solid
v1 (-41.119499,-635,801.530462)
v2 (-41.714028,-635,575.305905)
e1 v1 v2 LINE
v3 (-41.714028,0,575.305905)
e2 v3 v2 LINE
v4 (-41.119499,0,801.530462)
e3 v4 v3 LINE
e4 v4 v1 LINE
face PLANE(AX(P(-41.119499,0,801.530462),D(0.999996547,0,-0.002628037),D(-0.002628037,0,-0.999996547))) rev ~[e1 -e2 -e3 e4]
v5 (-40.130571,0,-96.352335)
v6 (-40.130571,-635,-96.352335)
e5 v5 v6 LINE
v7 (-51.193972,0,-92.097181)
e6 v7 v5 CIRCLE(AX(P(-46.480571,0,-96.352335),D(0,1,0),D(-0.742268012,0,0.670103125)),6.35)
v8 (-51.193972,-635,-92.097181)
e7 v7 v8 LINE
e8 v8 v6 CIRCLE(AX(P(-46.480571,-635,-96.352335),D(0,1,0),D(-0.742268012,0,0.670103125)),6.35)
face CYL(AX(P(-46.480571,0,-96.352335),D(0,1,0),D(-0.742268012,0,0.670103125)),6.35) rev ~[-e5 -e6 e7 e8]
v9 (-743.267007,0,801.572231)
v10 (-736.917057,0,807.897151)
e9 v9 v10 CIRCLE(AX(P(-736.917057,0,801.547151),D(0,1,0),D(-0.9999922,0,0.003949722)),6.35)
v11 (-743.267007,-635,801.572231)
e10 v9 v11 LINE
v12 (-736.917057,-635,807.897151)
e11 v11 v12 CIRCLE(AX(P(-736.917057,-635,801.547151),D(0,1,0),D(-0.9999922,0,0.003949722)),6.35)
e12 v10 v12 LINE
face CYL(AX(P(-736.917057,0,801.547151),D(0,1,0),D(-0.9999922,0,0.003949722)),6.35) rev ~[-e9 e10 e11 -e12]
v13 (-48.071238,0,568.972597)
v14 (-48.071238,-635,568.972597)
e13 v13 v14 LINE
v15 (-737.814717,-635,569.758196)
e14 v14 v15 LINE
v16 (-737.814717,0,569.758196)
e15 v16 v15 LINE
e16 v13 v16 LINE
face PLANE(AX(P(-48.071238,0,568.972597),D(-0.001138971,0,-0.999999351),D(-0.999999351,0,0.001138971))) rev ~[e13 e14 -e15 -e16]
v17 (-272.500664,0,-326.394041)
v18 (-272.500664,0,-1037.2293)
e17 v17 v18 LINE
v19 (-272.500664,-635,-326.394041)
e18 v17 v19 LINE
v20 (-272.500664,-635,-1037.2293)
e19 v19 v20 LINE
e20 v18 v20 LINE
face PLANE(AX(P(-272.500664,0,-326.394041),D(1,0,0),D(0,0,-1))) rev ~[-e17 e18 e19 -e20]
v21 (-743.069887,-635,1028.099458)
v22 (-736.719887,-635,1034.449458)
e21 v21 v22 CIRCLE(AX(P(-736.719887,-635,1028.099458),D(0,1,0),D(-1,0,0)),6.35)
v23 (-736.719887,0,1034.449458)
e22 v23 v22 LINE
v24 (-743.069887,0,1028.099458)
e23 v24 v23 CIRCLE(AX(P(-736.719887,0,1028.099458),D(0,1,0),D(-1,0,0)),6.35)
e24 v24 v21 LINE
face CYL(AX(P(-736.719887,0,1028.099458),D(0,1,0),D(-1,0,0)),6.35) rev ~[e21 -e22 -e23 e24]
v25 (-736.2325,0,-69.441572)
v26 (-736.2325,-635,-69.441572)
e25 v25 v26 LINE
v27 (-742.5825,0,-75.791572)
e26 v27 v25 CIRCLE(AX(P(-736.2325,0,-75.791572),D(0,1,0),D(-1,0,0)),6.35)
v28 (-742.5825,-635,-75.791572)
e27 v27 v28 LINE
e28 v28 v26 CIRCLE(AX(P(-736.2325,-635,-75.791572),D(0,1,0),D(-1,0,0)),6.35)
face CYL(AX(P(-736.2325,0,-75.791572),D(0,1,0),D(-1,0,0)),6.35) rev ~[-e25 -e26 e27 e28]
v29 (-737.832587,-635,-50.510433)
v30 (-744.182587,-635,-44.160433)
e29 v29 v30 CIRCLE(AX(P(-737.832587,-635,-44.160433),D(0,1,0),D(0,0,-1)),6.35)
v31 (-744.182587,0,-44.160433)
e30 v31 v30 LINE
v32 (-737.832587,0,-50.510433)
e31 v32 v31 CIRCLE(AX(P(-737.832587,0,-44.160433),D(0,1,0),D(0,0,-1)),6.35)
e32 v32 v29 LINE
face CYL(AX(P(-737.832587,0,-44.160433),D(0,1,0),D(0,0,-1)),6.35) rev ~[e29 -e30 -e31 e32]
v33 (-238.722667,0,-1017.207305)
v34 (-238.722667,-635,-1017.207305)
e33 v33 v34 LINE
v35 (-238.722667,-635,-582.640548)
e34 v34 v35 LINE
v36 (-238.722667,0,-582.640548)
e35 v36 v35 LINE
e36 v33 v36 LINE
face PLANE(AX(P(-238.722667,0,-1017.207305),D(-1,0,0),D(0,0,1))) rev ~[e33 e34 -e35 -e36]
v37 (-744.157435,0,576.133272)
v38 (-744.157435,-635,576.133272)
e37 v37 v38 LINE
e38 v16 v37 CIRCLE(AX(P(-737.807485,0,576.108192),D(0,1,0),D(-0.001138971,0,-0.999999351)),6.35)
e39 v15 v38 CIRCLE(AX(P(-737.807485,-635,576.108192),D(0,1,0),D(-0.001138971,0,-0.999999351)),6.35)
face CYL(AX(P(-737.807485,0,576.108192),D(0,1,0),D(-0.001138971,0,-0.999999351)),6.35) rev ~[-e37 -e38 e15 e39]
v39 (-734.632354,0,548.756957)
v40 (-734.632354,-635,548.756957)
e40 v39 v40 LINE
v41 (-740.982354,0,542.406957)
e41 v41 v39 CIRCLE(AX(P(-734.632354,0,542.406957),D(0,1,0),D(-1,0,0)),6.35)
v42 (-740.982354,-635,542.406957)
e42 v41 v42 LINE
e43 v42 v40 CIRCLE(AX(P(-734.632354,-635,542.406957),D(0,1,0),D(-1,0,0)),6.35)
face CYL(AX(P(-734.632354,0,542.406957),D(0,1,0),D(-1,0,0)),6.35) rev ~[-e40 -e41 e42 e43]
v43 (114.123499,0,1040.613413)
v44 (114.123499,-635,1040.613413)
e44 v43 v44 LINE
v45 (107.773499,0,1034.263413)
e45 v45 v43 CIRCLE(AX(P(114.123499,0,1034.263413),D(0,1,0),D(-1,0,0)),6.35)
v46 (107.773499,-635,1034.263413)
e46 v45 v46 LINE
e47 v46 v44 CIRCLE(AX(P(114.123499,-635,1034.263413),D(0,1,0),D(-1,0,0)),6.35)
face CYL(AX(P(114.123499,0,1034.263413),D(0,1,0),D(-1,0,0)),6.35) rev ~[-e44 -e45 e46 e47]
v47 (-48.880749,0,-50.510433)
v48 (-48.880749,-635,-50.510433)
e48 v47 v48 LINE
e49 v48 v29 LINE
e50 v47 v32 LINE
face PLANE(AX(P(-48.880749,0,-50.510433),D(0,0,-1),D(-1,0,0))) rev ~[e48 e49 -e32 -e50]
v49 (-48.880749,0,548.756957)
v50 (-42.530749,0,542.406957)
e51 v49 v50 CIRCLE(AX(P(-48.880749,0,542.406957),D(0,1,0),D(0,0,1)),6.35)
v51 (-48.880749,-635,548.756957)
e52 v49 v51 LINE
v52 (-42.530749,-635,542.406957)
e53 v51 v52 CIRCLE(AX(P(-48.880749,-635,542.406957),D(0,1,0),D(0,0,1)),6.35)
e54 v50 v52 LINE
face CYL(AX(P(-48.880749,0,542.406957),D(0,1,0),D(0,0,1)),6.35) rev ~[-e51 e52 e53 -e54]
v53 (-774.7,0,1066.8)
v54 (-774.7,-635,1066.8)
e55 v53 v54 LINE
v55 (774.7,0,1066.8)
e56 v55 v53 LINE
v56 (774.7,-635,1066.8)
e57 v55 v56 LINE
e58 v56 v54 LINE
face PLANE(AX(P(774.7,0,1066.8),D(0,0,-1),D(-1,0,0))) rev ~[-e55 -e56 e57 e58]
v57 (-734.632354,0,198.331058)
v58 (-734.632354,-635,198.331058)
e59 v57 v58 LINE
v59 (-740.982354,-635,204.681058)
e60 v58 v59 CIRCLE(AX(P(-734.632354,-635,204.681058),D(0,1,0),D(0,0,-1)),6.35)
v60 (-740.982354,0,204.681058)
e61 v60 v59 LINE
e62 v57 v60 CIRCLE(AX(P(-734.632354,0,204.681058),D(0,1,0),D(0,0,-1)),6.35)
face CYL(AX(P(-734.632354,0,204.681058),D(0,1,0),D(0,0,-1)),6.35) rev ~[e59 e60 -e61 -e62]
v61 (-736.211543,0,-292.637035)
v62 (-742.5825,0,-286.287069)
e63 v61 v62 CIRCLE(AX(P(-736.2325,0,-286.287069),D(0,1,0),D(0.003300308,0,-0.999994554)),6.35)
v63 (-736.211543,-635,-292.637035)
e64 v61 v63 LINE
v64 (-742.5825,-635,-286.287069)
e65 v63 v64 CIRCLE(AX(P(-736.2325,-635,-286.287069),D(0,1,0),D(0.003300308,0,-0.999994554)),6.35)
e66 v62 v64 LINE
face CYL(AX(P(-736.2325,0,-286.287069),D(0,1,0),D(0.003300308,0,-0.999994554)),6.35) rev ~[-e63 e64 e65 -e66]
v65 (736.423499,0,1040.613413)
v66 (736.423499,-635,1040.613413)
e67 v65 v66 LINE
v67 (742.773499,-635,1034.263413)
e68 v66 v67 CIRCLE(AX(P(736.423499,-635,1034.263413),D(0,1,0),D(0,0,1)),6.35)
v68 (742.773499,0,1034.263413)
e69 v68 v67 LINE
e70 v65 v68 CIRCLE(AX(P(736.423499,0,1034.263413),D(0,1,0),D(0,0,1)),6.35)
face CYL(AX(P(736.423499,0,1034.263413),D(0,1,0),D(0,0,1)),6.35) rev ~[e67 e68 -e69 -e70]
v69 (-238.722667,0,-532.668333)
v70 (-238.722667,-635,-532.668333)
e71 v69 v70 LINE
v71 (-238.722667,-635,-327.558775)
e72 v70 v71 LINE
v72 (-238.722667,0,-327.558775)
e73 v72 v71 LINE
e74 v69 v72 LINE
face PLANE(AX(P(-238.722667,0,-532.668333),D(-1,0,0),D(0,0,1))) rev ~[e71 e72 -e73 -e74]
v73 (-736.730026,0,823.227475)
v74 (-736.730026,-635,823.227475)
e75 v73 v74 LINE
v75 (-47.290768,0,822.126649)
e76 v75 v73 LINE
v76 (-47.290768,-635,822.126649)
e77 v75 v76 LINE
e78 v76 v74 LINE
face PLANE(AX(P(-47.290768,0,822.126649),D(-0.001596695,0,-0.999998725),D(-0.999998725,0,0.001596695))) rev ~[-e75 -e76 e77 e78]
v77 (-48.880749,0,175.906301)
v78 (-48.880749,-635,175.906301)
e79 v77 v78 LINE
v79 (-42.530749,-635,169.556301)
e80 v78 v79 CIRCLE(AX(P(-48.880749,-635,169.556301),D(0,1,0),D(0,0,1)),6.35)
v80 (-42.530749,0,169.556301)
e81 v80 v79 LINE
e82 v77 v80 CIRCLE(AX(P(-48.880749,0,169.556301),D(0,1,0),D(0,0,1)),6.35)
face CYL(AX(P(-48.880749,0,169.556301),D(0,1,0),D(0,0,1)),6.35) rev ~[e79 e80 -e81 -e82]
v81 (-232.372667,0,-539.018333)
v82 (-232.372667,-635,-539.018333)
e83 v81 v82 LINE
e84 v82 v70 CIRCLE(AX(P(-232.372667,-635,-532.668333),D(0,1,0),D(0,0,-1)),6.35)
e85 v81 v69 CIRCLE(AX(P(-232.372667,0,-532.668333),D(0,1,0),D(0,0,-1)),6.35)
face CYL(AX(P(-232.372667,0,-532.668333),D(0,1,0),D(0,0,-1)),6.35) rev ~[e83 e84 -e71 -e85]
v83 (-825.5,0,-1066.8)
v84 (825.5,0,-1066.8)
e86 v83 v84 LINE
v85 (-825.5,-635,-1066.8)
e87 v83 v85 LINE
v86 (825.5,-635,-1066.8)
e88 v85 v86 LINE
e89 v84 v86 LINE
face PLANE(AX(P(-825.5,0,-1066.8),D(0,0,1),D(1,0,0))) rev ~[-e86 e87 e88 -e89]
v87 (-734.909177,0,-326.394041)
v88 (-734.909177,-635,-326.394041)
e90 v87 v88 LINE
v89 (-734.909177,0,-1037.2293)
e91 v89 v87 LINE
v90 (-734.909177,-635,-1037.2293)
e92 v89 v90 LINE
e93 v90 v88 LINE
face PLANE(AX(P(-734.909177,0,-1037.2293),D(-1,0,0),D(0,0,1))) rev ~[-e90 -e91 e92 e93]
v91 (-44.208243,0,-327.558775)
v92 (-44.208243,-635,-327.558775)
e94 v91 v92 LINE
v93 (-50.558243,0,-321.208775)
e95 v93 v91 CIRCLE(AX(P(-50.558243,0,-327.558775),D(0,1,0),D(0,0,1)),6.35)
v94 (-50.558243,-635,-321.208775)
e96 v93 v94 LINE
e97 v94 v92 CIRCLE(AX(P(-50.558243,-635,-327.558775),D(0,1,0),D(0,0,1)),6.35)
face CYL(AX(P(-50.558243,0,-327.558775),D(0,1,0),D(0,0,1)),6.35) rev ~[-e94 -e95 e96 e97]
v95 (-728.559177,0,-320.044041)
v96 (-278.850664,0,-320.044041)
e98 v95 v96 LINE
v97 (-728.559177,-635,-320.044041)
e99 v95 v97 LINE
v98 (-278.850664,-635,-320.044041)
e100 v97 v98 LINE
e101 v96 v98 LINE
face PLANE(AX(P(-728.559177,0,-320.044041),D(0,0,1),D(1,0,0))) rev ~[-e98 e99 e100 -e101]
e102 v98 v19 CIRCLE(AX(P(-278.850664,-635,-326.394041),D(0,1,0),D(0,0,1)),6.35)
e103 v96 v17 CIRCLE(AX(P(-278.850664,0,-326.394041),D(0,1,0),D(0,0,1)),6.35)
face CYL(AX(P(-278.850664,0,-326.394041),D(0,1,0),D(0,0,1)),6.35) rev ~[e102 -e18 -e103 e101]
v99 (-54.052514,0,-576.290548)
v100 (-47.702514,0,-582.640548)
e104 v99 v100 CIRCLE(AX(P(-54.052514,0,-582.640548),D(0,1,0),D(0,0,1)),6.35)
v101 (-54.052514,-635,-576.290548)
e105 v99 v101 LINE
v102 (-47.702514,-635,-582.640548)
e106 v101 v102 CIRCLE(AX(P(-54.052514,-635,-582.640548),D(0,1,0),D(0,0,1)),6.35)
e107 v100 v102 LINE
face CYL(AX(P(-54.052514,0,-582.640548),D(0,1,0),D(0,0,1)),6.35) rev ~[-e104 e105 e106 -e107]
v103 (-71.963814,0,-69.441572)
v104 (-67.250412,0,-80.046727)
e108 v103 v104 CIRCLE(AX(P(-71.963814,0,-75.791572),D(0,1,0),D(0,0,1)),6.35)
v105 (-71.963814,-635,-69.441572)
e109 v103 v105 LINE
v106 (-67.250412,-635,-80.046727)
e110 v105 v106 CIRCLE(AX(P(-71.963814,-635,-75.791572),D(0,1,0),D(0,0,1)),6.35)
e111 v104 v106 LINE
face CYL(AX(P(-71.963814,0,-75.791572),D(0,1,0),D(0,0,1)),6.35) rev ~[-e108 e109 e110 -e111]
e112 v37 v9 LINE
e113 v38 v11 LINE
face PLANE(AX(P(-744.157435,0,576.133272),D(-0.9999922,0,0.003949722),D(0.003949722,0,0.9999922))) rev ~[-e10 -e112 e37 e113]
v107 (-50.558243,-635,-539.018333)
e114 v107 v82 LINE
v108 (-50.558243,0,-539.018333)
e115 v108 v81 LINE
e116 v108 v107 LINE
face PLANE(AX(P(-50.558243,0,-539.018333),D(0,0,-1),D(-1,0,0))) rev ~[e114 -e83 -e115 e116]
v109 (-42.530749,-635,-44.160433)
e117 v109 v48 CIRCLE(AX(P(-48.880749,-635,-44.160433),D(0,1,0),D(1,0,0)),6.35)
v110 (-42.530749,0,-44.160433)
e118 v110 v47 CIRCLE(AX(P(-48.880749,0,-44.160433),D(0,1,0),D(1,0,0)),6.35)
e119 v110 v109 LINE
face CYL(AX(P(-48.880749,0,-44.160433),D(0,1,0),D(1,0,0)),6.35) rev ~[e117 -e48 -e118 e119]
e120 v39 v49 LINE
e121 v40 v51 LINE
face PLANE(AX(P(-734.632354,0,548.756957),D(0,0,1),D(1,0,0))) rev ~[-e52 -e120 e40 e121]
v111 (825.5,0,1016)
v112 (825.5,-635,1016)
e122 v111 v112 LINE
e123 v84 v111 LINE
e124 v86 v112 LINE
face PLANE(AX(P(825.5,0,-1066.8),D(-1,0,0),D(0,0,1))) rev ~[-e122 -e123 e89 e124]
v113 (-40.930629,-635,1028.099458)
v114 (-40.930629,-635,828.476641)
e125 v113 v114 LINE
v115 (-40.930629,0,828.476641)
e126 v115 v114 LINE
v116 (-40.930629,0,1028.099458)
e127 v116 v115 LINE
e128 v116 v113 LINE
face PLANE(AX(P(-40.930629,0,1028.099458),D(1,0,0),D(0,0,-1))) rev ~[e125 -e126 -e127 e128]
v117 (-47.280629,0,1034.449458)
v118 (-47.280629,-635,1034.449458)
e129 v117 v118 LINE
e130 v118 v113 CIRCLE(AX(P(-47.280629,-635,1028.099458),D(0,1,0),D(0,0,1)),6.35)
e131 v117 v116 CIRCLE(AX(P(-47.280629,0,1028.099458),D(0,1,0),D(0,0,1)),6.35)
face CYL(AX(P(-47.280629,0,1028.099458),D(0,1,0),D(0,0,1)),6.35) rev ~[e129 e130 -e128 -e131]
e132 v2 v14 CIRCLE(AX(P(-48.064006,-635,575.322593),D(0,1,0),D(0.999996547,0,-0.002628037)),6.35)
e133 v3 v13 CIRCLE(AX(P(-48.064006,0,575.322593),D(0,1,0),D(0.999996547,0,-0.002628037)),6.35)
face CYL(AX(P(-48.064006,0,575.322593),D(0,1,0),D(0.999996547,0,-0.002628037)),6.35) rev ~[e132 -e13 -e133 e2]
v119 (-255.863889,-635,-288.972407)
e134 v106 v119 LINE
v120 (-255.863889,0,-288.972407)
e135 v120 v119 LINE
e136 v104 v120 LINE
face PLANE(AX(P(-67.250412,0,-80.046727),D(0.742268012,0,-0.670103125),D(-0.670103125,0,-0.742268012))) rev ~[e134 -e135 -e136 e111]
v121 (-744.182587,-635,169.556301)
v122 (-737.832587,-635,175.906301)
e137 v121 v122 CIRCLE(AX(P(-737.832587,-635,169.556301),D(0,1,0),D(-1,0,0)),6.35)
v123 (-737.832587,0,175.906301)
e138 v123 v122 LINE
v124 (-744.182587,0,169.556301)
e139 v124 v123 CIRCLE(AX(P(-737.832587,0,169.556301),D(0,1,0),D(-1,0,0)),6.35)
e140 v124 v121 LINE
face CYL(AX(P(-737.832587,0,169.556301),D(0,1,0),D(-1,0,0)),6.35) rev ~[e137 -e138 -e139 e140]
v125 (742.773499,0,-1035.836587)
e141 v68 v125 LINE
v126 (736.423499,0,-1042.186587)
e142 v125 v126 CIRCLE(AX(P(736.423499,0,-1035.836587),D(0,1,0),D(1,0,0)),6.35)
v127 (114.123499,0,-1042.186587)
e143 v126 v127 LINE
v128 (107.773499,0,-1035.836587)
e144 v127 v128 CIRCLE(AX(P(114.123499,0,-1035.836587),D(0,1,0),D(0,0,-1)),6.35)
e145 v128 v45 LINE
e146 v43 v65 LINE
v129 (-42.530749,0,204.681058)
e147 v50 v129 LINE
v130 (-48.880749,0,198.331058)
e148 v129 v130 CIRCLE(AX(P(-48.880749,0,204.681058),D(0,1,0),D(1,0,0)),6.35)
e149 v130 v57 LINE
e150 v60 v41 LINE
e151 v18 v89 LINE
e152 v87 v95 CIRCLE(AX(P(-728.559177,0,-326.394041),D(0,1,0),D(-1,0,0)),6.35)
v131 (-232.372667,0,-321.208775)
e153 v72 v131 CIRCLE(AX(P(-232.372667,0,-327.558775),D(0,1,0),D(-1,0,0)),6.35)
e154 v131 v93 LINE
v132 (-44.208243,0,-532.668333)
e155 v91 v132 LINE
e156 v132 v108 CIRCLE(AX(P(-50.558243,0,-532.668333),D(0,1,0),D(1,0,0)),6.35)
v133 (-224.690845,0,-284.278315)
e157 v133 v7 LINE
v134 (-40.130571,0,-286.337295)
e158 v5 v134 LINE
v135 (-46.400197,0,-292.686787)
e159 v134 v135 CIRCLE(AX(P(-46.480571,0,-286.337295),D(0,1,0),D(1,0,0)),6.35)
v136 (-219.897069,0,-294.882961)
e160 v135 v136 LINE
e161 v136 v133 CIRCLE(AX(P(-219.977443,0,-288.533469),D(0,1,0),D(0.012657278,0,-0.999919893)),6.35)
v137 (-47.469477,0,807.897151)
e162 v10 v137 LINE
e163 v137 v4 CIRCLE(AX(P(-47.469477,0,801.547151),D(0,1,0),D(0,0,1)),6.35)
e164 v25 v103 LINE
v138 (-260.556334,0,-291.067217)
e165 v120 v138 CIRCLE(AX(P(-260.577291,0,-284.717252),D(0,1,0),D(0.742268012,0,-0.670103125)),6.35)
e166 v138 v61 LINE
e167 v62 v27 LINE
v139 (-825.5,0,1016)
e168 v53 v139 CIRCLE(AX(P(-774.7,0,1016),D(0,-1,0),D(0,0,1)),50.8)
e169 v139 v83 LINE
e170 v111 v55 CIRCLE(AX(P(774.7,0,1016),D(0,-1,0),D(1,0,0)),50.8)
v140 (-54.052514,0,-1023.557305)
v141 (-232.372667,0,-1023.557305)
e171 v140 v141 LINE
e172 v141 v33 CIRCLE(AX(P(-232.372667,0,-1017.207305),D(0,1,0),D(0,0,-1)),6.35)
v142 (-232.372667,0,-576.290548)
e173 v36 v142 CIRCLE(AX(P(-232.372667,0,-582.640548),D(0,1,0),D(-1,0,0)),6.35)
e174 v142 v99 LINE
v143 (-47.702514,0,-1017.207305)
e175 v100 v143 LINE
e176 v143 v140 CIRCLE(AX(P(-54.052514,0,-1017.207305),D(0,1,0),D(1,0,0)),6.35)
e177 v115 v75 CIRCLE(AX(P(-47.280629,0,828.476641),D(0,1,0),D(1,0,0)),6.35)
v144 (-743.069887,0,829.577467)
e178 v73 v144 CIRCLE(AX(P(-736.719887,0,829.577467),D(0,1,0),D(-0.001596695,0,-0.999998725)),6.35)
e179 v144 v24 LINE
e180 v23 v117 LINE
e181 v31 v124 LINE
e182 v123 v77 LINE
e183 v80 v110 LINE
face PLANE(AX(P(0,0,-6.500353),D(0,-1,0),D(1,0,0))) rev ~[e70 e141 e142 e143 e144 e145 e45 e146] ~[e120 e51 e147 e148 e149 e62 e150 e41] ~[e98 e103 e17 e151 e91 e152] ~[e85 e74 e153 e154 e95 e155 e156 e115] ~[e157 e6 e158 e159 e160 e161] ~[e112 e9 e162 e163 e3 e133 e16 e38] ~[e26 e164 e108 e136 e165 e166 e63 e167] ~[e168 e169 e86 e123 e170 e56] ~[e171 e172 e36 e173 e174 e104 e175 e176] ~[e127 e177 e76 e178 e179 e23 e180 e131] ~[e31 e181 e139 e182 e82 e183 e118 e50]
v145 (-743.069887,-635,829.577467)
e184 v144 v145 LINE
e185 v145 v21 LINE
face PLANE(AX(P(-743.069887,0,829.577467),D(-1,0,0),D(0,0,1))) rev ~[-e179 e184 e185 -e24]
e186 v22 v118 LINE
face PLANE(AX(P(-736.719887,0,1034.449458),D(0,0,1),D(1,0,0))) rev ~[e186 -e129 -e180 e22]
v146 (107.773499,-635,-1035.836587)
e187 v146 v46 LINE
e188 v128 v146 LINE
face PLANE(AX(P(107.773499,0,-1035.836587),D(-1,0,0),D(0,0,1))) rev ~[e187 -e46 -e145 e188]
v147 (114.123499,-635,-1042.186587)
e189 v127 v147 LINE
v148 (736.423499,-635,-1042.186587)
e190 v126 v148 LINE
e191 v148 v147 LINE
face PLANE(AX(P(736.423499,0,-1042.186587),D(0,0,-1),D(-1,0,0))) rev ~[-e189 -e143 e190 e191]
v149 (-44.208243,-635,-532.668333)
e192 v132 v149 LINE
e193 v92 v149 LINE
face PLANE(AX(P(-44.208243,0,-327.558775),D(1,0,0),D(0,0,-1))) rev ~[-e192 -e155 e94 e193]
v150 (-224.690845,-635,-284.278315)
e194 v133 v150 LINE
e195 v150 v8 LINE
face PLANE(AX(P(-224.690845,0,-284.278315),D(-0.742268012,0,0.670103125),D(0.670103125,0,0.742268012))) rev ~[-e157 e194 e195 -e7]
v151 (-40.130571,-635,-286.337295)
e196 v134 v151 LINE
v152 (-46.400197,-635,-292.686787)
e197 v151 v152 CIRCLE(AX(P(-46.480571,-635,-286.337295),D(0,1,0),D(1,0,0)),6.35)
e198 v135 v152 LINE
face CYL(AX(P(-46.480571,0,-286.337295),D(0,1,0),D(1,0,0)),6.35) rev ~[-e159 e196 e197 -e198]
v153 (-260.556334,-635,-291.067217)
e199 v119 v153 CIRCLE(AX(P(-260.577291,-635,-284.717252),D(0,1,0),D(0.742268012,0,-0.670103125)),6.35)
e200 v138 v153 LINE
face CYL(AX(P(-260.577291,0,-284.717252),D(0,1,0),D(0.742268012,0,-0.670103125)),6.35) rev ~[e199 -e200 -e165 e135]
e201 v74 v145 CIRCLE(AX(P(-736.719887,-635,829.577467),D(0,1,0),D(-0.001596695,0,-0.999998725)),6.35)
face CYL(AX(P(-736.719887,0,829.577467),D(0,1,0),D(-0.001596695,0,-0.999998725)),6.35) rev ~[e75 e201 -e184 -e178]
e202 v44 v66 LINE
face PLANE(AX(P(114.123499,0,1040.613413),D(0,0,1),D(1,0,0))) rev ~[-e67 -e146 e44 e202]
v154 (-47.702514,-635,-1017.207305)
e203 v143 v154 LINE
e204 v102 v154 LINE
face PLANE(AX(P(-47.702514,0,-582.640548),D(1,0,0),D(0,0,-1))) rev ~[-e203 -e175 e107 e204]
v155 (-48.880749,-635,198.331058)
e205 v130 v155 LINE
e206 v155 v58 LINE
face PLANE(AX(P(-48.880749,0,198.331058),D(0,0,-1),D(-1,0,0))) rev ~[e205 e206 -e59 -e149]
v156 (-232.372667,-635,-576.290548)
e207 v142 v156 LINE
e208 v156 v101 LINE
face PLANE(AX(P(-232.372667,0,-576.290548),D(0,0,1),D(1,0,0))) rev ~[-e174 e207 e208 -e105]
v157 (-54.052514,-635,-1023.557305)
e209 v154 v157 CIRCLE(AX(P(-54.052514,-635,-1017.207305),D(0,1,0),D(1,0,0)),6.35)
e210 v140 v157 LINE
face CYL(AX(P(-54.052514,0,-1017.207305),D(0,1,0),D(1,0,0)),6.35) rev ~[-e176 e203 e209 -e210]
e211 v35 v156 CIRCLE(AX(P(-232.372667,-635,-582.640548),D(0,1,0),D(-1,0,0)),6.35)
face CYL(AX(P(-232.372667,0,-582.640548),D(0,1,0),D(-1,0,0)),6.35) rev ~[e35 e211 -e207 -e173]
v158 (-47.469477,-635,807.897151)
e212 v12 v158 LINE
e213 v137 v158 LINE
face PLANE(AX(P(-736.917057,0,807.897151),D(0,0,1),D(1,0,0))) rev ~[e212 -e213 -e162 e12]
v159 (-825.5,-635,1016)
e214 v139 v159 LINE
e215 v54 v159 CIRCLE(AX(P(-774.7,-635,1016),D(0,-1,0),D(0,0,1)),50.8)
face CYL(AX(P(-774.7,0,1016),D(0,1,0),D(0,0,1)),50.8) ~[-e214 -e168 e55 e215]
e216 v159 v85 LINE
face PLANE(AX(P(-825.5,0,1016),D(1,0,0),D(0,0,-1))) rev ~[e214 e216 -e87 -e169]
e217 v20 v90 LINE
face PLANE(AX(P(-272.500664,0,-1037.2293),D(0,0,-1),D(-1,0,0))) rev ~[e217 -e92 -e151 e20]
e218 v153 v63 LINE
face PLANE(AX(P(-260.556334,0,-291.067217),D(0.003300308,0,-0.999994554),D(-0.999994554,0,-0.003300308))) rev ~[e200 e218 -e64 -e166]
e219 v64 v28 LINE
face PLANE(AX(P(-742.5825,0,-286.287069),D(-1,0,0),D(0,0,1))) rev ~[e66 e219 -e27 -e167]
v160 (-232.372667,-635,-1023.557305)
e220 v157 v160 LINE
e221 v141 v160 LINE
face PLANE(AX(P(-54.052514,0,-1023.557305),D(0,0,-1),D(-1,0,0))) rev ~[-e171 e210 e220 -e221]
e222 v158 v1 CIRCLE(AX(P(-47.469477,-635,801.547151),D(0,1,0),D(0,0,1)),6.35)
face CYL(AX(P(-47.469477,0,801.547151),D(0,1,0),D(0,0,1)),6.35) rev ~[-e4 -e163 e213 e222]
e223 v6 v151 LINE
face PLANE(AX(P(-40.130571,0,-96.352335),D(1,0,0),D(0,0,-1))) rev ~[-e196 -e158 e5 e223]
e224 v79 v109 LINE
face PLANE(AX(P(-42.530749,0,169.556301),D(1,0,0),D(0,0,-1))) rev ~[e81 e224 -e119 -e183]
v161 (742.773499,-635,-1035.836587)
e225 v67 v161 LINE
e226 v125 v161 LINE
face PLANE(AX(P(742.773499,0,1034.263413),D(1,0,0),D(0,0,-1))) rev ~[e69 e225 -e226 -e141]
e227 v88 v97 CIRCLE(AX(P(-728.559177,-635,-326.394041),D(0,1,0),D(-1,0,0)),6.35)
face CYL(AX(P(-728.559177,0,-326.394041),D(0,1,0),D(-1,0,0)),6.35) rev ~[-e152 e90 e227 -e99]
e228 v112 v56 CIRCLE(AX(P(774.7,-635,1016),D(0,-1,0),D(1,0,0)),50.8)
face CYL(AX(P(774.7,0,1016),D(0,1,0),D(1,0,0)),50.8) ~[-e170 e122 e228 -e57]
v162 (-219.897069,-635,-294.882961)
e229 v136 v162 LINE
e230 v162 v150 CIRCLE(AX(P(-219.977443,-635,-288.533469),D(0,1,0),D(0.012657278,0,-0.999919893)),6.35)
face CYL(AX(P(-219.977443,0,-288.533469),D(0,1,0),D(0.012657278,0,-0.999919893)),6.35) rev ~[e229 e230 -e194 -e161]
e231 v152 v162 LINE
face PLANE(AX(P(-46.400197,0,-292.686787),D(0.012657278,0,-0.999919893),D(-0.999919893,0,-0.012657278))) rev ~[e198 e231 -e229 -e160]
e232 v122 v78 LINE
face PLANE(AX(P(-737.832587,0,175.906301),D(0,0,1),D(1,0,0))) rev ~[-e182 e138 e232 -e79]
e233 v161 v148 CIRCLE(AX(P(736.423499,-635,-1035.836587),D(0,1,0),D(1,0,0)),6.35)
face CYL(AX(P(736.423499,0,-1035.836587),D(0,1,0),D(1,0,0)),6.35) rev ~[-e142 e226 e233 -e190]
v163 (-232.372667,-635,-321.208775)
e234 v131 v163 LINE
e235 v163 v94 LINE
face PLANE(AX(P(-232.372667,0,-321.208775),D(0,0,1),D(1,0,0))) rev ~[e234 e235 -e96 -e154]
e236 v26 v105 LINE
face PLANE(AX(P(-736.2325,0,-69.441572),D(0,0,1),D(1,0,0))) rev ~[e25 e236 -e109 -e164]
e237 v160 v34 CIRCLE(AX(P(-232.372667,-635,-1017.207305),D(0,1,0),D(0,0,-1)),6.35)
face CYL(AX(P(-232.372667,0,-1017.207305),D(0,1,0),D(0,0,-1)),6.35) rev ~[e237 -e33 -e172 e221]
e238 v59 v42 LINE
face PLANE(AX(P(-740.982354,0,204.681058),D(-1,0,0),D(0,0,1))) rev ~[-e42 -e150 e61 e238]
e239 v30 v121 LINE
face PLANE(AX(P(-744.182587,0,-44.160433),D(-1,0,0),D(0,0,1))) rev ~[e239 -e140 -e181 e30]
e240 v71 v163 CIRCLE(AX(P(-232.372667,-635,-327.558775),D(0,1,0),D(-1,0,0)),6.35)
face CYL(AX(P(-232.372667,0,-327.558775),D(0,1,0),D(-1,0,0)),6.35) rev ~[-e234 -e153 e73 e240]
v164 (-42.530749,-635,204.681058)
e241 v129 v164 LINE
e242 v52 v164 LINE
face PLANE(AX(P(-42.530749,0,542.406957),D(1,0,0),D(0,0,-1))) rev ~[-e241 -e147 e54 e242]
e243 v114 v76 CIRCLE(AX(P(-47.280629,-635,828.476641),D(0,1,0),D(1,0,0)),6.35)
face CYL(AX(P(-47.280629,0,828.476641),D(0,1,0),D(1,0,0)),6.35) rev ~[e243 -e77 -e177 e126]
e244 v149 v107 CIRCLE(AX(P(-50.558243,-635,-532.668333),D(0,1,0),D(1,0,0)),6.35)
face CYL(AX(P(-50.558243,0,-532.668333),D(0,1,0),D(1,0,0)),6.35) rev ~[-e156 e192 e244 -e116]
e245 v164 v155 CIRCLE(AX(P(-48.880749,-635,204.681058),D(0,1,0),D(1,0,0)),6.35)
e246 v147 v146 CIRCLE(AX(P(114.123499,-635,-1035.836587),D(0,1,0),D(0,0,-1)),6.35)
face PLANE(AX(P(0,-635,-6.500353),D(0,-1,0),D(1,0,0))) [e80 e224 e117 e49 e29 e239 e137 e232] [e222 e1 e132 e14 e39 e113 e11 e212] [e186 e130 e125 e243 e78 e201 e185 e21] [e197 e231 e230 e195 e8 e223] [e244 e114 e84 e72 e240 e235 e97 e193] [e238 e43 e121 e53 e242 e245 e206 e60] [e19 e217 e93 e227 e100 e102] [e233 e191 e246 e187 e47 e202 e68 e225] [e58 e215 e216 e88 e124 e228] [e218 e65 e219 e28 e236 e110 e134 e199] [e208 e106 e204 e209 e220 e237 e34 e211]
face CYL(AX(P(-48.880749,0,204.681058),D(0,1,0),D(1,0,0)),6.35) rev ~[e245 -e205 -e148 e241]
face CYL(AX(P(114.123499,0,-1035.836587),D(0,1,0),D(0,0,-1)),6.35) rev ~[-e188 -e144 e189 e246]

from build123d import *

# Parameters (mm, degrees)
F0_W     = 219.9670784175
F0_H     = 257.1922540665
F0_H_2   = 477.1593213081
F0_W_2   = 720.8151631057
F0_H_3   = 247.0399104059
F0_H_4   = 372.2520321608
F1_DEPTH = 635


with BuildPart() as f1:
    # F0 (on Front) → F1 (new body)
    with BuildSketch(Plane.XZ):
        with BuildLine():
            Line((-825.5, -1066.8), (825.5, -1066.8))
            Line((825.5, -1066.8), (825.5, 1016))
            ThreePointArc((825.5, 1016), (810.6210244843, 1051.9210244843), (774.7, 1066.8))
            Line((774.7, 1066.8), (-774.7, 1066.8))
            ThreePointArc((-774.7, 1066.8), (-810.6210244843, 1051.9210244843), (-825.5, 1016))
            Line((-825.5, 1016), (-825.5, -1066.8))
        make_face()
        with BuildLine():
            ThreePointArc((107.7734987259, 1034.2634128571), (109.6333706654, 1038.7535409176), (114.1234987259, 1040.6134128571))
            Line((114.1234987259, 1040.6134128571), (736.4234987259, 1040.6134128571))
            ThreePointArc((736.4234987259, 1040.6134128571), (740.9136267864, 1038.7535409176), (742.7734987259, 1034.2634128571))
            Line((742.7734987259, 1034.2634128571), (742.7734987259, -1035.8365871429))
            ThreePointArc((742.7734987259, -1035.8365871429), (740.9136267864, -1040.3267152035), (736.4234987259, -1042.1865871429))
            Line((736.4234987259, -1042.1865871429), (114.1234987259, -1042.1865871429))
            ThreePointArc((114.1234987259, -1042.1865871429), (109.6333706654, -1040.3267152035), (107.7734987259, -1035.8365871429))
            Line((107.7734987259, -1035.8365871429), (107.7734987259, 1034.2634128571))
        make_face(mode=Mode.SUBTRACT)
        Polygon((-787.4, -1037.2292995453), (-787.4, 1045.5707004547), (-752.9641985893, 1045.5707004547), (-32.1490354836, 1045.5707004547), (0, 1045.5707004547), (0, -1037.2292995453), (-32.1490354836, -1037.2292995453), (-252.1161139011, -1037.2292995453), (-272.5006639957, -1037.2292995453), (-734.9091768265, -1037.2292995453), (-752.9641985893, -1037.2292995453), align=None, mode=Mode.SUBTRACT)
        Polygon((-752.9641985893, 1045.5707004547), (-787.4, 1045.5707004547), (-787.4, -1037.2292995453), (-752.9641985893, -1037.2292995453), (-752.9641985893, -302.8777241707), (-752.9641985893, -59.2219047248), (-752.9641985893, 187.818005681), (-752.9641985893, 560.0700378418), (-752.9641985893, 593.9111113548), (-752.9641985893, 780.0370454788), (-752.9641985893, 813.8781785965), (-752.9641985893, 854.4874191284), (-752.9641985893, 1016.9246196747), align=None)
        with BuildLine():
            Line((-752.9641985893, -302.8777241707), (-752.9641985893, -1037.2292995453))
            Line((-752.9641985893, -1037.2292995453), (-734.9091768265, -1037.2292995453))
            Line((-734.9091768265, -1037.2292995453), (-734.9091768265, -326.3940406799))
            ThreePointArc((-734.9091768265, -326.3940406799), (-733.049304887, -321.9039126194), (-728.5591768265, -320.0440406799))
            Line((-728.5591768265, -320.0440406799), (-278.8506639957, -320.0440406799))
            ThreePointArc((-278.8506639957, -320.0440406799), (-274.3605359352, -321.9039126194), (-272.5006639957, -326.3940406799))
            Line((-272.5006639957, -326.3940406799), (-272.5006639957, -1037.2292995453))
            Line((-272.5006639957, -1037.2292995453), (-252.1161139011, -1037.2292995453))
            Line((-252.1161139011, -1037.2292995453), (-252.1161139011, -560.0699782372))
            Line((-252.1161139011, -560.0699782372), (-252.1161139011, -302.8777241707))
            Line((-252.1161139011, -302.8777241707), (-752.9641985893, -302.8777241707))
        make_face()
        with Locations((-142.1325746924, -431.4738512039)):
            Rectangle(F0_W, F0_H)
        with BuildLine():
            ThreePointArc((-238.722667098, -327.5587750435), (-236.8627951586, -323.068646983), (-232.372667098, -321.2087750435))
            Line((-232.372667098, -321.2087750435), (-50.5582434893, -321.2087750435))
            ThreePointArc((-50.5582434893, -321.2087750435), (-46.0681154287, -323.068646983), (-44.2082434893, -327.5587750435))
            Line((-44.2082434893, -327.5587750435), (-44.2082434893, -532.6683329582))
            ThreePointArc((-44.2082434893, -532.6683329582), (-46.0681154287, -537.1584610188), (-50.5582434893, -539.0183329582))
            Line((-50.5582434893, -539.0183329582), (-232.372667098, -539.0183329582))
            ThreePointArc((-232.372667098, -539.0183329582), (-236.8627951586, -537.1584610188), (-238.722667098, -532.6683329582))
            Line((-238.722667098, -532.6683329582), (-238.722667098, -327.5587750435))
        make_face(mode=Mode.SUBTRACT)
        with Locations((-142.1325746924, -798.6496388912)):
            Rectangle(F0_W, F0_H_2)
        with BuildLine():
            ThreePointArc((-238.722667098, -582.6405478477), (-236.8627951586, -578.1504197872), (-232.372667098, -576.2905478477))
            Line((-232.372667098, -576.2905478477), (-54.0525136352, -576.2905478477))
            ThreePointArc((-54.0525136352, -576.2905478477), (-49.5623855746, -578.1504197872), (-47.7025136352, -582.6405478477))
            Line((-47.7025136352, -582.6405478477), (-47.7025136352, -1017.207305336))
            ThreePointArc((-47.7025136352, -1017.207305336), (-49.5623855746, -1021.6974333965), (-54.0525136352, -1023.557305336))
            Line((-54.0525136352, -1023.557305336), (-232.372667098, -1023.557305336))
            ThreePointArc((-232.372667098, -1023.557305336), (-236.8627951586, -1021.6974333965), (-238.722667098, -1017.207305336))
            Line((-238.722667098, -1017.207305336), (-238.722667098, -582.6405478477))
        make_face(mode=Mode.SUBTRACT)
        Polygon((-752.9641985893, -59.2219047248), (-752.9641985893, -302.8777241707), (-252.1161139011, -302.8777241707), (-32.1490354836, -59.2219047248), align=None)
        with BuildLine():
            Line((-742.5824999809, -286.2870691341), (-742.5824999809, -75.7915718317))
            ThreePointArc((-742.5824999809, -75.7915718317), (-740.7226280415, -71.3014437712), (-736.2324999809, -69.4415718317))
            Line((-736.2324999809, -69.4415718317), (-71.9638137919, -69.4415718317))
            ThreePointArc((-71.9638137919, -69.4415718317), (-66.1611104022, -73.2125926982), (-67.2504119148, -80.0467266755))
            Line((-67.2504119148, -80.0467266755), (-255.8638893667, -288.972406544))
            ThreePointArc((-255.8638893667, -288.972406544), (-257.9887402532, -290.5156914705), (-260.5563342855, -291.0672171179))
            Line((-260.5563342855, -291.0672171179), (-736.2115430225, -292.6370345518))
            ThreePointArc((-736.2115430225, -292.6370345518), (-740.7152125143, -290.7846004951), (-742.5824999809, -286.2870691341))
        make_face(mode=Mode.SUBTRACT)
        Polygon((-32.1490354836, -59.2219047248), (-252.1161139011, -302.8777241707), (-32.1490354836, -302.8777241707), align=None)
        with BuildLine():
            ThreePointArc((-51.193972408, -92.0971805627), (-44.2010532487, -90.4255908565), (-40.1305705309, -96.3523354064))
            Line((-40.1305705309, -96.3523354064), (-40.1305705309, -286.3372953238))
            ThreePointArc((-40.1305705309, -286.3372953238), (-41.9621154253, -290.7989164932), (-46.4001968172, -292.6867866472))
            Line((-46.4001968172, -292.6867866472), (-219.8970689913, -294.882960675))
            ThreePointArc((-219.8970689913, -294.882960675), (-225.7637081305, -291.149120786), (-224.6908445822, -284.2783145078))
            Line((-224.6908445822, -284.2783145078), (-51.193972408, -92.0971805627))
        make_face(mode=Mode.SUBTRACT)
        with Locations((-392.5566170365, 64.2980504781)):
            Rectangle(F0_W_2, F0_H_3)
        with BuildLine():
            ThreePointArc((-744.1825866699, 169.5563005447), (-742.3227147305, 174.0464286053), (-737.8325866699, 175.9063005447))
            Line((-737.8325866699, 175.9063005447), (-48.8807489932, 175.9063005447))
            ThreePointArc((-48.8807489932, 175.9063005447), (-44.3906209326, 174.0464286053), (-42.5307489932, 169.5563005447))
            Line((-42.5307489932, 169.5563005447), (-42.5307489932, -44.1604325712))
            ThreePointArc((-42.5307489932, -44.1604325712), (-44.3906209326, -48.6505606317), (-48.8807489932, -50.5104325712))
            Line((-48.8807489932, -50.5104325712), (-737.8325866699, -50.5104325712))
            ThreePointArc((-737.8325866699, -50.5104325712), (-742.3227147305, -48.6505606317), (-744.1825866699, -44.1604325712))
            Line((-744.1825866699, -44.1604325712), (-744.1825866699, 169.5563005447))
        make_face(mode=Mode.SUBTRACT)
        with Locations((-392.5566170365, 373.9440217614)):
            Rectangle(F0_W_2, F0_H_4)
        with BuildLine():
            ThreePointArc((-740.9823536873, 542.4069570541), (-739.1224817478, 546.8970851147), (-734.6323536873, 548.7569570541))
            Line((-734.6323536873, 548.7569570541), (-48.8807489932, 548.7569570541))
            ThreePointArc((-48.8807489932, 548.7569570541), (-44.3906209326, 546.8970851147), (-42.5307489932, 542.4069570541))
            Line((-42.5307489932, 542.4069570541), (-42.5307489932, 204.6810580254))
            ThreePointArc((-42.5307489932, 204.6810580254), (-44.3906209326, 200.1909299648), (-48.8807489932, 198.3310580254))
            Line((-48.8807489932, 198.3310580254), (-734.6323536873, 198.3310580254))
            ThreePointArc((-734.6323536873, 198.3310580254), (-739.1224817478, 200.1909299648), (-740.9823536873, 204.6810580254))
            Line((-740.9823536873, 204.6810580254), (-740.9823536873, 542.4069570541))
        make_face(mode=Mode.SUBTRACT)
        Polygon((-32.1490354836, 560.0700378418), (-32.1490354836, 813.8781785965), (-752.9641985893, 813.8781785965), (-752.9641985893, 780.0370454788), (-752.9641985893, 593.9111113548), (-752.9641985893, 560.0700378418), align=None)
        with BuildLine():
            ThreePointArc((-47.4694770129, 807.8971505165), (-42.973452712, 806.0313745838), (-41.1194989413, 801.5304624804))
            Line((-41.1194989413, 801.5304624804), (-41.7140275426, 575.3059049754))
            ThreePointArc((-41.7140275426, 575.3059049754), (-43.582342696, 570.8240157377), (-48.0712380826, 568.9725971303))
            Line((-48.0712380826, 568.9725971303), (-737.8147173414, 569.7581957444))
            ThreePointArc((-737.8147173414, 569.7581957444), (-742.3090228527, 571.6295025522), (-744.1574353417, 576.1332723586))
            Line((-744.1574353417, 576.1332723586), (-743.2670072413, 801.5722312495))
            ThreePointArc((-743.2670072413, 801.5722312495), (-741.3983086815, 806.0461372166), (-736.9170567725, 807.8971505165))
            Line((-736.9170567725, 807.8971505165), (-47.4694770129, 807.8971505165))
        make_face(mode=Mode.SUBTRACT)
        Polygon((0, 1045.5707004547), (-32.1490354836, 1045.5707004547), (-32.1490354836, 813.8781785965), (-32.1490354836, 560.0700378418), (-32.1490354836, 187.818005681), (-32.1490354836, -59.2219047248), (-32.1490354836, -302.8777241707), (-32.1490354836, -560.0699782372), (-32.1490354836, -1037.2292995453), (0, -1037.2292995453), align=None)
        Polygon((-32.1490354836, 1045.5707004547), (-752.9641985893, 1045.5707004547), (-752.9641985893, 1016.9246196747), (-752.9641985893, 854.4874191284), (-752.9641985893, 813.8781785965), (-32.1490354836, 813.8781785965), align=None)
        with BuildLine():
            ThreePointArc((-47.2806287766, 1034.4494581223), (-42.790500716, 1032.5895861828), (-40.9306287766, 1028.0994581223))
            Line((-40.9306287766, 1028.0994581223), (-40.9306287766, 828.4766413002))
            ThreePointArc((-40.9306287766, 828.4766413002), (-42.7940868309, 823.9829299867), (-47.2907677906, 822.1266493947))
            Line((-47.2907677906, 822.1266493947), (-736.7300261753, 823.2274751043))
            ThreePointArc((-736.7300261753, 823.2274751043), (-741.2135984748, 825.0909250641), (-743.0698871613, 829.5774670098))
            Line((-743.0698871613, 829.5774670098), (-743.0698871613, 1028.0994581223))
            ThreePointArc((-743.0698871613, 1028.0994581223), (-741.2100152218, 1032.5895861828), (-736.7198871613, 1034.4494581223))
            Line((-736.7198871613, 1034.4494581223), (-47.2806287766, 1034.4494581223))
        make_face(mode=Mode.SUBTRACT)
    extrude(amount=F1_DEPTH)


solid = f1.part
